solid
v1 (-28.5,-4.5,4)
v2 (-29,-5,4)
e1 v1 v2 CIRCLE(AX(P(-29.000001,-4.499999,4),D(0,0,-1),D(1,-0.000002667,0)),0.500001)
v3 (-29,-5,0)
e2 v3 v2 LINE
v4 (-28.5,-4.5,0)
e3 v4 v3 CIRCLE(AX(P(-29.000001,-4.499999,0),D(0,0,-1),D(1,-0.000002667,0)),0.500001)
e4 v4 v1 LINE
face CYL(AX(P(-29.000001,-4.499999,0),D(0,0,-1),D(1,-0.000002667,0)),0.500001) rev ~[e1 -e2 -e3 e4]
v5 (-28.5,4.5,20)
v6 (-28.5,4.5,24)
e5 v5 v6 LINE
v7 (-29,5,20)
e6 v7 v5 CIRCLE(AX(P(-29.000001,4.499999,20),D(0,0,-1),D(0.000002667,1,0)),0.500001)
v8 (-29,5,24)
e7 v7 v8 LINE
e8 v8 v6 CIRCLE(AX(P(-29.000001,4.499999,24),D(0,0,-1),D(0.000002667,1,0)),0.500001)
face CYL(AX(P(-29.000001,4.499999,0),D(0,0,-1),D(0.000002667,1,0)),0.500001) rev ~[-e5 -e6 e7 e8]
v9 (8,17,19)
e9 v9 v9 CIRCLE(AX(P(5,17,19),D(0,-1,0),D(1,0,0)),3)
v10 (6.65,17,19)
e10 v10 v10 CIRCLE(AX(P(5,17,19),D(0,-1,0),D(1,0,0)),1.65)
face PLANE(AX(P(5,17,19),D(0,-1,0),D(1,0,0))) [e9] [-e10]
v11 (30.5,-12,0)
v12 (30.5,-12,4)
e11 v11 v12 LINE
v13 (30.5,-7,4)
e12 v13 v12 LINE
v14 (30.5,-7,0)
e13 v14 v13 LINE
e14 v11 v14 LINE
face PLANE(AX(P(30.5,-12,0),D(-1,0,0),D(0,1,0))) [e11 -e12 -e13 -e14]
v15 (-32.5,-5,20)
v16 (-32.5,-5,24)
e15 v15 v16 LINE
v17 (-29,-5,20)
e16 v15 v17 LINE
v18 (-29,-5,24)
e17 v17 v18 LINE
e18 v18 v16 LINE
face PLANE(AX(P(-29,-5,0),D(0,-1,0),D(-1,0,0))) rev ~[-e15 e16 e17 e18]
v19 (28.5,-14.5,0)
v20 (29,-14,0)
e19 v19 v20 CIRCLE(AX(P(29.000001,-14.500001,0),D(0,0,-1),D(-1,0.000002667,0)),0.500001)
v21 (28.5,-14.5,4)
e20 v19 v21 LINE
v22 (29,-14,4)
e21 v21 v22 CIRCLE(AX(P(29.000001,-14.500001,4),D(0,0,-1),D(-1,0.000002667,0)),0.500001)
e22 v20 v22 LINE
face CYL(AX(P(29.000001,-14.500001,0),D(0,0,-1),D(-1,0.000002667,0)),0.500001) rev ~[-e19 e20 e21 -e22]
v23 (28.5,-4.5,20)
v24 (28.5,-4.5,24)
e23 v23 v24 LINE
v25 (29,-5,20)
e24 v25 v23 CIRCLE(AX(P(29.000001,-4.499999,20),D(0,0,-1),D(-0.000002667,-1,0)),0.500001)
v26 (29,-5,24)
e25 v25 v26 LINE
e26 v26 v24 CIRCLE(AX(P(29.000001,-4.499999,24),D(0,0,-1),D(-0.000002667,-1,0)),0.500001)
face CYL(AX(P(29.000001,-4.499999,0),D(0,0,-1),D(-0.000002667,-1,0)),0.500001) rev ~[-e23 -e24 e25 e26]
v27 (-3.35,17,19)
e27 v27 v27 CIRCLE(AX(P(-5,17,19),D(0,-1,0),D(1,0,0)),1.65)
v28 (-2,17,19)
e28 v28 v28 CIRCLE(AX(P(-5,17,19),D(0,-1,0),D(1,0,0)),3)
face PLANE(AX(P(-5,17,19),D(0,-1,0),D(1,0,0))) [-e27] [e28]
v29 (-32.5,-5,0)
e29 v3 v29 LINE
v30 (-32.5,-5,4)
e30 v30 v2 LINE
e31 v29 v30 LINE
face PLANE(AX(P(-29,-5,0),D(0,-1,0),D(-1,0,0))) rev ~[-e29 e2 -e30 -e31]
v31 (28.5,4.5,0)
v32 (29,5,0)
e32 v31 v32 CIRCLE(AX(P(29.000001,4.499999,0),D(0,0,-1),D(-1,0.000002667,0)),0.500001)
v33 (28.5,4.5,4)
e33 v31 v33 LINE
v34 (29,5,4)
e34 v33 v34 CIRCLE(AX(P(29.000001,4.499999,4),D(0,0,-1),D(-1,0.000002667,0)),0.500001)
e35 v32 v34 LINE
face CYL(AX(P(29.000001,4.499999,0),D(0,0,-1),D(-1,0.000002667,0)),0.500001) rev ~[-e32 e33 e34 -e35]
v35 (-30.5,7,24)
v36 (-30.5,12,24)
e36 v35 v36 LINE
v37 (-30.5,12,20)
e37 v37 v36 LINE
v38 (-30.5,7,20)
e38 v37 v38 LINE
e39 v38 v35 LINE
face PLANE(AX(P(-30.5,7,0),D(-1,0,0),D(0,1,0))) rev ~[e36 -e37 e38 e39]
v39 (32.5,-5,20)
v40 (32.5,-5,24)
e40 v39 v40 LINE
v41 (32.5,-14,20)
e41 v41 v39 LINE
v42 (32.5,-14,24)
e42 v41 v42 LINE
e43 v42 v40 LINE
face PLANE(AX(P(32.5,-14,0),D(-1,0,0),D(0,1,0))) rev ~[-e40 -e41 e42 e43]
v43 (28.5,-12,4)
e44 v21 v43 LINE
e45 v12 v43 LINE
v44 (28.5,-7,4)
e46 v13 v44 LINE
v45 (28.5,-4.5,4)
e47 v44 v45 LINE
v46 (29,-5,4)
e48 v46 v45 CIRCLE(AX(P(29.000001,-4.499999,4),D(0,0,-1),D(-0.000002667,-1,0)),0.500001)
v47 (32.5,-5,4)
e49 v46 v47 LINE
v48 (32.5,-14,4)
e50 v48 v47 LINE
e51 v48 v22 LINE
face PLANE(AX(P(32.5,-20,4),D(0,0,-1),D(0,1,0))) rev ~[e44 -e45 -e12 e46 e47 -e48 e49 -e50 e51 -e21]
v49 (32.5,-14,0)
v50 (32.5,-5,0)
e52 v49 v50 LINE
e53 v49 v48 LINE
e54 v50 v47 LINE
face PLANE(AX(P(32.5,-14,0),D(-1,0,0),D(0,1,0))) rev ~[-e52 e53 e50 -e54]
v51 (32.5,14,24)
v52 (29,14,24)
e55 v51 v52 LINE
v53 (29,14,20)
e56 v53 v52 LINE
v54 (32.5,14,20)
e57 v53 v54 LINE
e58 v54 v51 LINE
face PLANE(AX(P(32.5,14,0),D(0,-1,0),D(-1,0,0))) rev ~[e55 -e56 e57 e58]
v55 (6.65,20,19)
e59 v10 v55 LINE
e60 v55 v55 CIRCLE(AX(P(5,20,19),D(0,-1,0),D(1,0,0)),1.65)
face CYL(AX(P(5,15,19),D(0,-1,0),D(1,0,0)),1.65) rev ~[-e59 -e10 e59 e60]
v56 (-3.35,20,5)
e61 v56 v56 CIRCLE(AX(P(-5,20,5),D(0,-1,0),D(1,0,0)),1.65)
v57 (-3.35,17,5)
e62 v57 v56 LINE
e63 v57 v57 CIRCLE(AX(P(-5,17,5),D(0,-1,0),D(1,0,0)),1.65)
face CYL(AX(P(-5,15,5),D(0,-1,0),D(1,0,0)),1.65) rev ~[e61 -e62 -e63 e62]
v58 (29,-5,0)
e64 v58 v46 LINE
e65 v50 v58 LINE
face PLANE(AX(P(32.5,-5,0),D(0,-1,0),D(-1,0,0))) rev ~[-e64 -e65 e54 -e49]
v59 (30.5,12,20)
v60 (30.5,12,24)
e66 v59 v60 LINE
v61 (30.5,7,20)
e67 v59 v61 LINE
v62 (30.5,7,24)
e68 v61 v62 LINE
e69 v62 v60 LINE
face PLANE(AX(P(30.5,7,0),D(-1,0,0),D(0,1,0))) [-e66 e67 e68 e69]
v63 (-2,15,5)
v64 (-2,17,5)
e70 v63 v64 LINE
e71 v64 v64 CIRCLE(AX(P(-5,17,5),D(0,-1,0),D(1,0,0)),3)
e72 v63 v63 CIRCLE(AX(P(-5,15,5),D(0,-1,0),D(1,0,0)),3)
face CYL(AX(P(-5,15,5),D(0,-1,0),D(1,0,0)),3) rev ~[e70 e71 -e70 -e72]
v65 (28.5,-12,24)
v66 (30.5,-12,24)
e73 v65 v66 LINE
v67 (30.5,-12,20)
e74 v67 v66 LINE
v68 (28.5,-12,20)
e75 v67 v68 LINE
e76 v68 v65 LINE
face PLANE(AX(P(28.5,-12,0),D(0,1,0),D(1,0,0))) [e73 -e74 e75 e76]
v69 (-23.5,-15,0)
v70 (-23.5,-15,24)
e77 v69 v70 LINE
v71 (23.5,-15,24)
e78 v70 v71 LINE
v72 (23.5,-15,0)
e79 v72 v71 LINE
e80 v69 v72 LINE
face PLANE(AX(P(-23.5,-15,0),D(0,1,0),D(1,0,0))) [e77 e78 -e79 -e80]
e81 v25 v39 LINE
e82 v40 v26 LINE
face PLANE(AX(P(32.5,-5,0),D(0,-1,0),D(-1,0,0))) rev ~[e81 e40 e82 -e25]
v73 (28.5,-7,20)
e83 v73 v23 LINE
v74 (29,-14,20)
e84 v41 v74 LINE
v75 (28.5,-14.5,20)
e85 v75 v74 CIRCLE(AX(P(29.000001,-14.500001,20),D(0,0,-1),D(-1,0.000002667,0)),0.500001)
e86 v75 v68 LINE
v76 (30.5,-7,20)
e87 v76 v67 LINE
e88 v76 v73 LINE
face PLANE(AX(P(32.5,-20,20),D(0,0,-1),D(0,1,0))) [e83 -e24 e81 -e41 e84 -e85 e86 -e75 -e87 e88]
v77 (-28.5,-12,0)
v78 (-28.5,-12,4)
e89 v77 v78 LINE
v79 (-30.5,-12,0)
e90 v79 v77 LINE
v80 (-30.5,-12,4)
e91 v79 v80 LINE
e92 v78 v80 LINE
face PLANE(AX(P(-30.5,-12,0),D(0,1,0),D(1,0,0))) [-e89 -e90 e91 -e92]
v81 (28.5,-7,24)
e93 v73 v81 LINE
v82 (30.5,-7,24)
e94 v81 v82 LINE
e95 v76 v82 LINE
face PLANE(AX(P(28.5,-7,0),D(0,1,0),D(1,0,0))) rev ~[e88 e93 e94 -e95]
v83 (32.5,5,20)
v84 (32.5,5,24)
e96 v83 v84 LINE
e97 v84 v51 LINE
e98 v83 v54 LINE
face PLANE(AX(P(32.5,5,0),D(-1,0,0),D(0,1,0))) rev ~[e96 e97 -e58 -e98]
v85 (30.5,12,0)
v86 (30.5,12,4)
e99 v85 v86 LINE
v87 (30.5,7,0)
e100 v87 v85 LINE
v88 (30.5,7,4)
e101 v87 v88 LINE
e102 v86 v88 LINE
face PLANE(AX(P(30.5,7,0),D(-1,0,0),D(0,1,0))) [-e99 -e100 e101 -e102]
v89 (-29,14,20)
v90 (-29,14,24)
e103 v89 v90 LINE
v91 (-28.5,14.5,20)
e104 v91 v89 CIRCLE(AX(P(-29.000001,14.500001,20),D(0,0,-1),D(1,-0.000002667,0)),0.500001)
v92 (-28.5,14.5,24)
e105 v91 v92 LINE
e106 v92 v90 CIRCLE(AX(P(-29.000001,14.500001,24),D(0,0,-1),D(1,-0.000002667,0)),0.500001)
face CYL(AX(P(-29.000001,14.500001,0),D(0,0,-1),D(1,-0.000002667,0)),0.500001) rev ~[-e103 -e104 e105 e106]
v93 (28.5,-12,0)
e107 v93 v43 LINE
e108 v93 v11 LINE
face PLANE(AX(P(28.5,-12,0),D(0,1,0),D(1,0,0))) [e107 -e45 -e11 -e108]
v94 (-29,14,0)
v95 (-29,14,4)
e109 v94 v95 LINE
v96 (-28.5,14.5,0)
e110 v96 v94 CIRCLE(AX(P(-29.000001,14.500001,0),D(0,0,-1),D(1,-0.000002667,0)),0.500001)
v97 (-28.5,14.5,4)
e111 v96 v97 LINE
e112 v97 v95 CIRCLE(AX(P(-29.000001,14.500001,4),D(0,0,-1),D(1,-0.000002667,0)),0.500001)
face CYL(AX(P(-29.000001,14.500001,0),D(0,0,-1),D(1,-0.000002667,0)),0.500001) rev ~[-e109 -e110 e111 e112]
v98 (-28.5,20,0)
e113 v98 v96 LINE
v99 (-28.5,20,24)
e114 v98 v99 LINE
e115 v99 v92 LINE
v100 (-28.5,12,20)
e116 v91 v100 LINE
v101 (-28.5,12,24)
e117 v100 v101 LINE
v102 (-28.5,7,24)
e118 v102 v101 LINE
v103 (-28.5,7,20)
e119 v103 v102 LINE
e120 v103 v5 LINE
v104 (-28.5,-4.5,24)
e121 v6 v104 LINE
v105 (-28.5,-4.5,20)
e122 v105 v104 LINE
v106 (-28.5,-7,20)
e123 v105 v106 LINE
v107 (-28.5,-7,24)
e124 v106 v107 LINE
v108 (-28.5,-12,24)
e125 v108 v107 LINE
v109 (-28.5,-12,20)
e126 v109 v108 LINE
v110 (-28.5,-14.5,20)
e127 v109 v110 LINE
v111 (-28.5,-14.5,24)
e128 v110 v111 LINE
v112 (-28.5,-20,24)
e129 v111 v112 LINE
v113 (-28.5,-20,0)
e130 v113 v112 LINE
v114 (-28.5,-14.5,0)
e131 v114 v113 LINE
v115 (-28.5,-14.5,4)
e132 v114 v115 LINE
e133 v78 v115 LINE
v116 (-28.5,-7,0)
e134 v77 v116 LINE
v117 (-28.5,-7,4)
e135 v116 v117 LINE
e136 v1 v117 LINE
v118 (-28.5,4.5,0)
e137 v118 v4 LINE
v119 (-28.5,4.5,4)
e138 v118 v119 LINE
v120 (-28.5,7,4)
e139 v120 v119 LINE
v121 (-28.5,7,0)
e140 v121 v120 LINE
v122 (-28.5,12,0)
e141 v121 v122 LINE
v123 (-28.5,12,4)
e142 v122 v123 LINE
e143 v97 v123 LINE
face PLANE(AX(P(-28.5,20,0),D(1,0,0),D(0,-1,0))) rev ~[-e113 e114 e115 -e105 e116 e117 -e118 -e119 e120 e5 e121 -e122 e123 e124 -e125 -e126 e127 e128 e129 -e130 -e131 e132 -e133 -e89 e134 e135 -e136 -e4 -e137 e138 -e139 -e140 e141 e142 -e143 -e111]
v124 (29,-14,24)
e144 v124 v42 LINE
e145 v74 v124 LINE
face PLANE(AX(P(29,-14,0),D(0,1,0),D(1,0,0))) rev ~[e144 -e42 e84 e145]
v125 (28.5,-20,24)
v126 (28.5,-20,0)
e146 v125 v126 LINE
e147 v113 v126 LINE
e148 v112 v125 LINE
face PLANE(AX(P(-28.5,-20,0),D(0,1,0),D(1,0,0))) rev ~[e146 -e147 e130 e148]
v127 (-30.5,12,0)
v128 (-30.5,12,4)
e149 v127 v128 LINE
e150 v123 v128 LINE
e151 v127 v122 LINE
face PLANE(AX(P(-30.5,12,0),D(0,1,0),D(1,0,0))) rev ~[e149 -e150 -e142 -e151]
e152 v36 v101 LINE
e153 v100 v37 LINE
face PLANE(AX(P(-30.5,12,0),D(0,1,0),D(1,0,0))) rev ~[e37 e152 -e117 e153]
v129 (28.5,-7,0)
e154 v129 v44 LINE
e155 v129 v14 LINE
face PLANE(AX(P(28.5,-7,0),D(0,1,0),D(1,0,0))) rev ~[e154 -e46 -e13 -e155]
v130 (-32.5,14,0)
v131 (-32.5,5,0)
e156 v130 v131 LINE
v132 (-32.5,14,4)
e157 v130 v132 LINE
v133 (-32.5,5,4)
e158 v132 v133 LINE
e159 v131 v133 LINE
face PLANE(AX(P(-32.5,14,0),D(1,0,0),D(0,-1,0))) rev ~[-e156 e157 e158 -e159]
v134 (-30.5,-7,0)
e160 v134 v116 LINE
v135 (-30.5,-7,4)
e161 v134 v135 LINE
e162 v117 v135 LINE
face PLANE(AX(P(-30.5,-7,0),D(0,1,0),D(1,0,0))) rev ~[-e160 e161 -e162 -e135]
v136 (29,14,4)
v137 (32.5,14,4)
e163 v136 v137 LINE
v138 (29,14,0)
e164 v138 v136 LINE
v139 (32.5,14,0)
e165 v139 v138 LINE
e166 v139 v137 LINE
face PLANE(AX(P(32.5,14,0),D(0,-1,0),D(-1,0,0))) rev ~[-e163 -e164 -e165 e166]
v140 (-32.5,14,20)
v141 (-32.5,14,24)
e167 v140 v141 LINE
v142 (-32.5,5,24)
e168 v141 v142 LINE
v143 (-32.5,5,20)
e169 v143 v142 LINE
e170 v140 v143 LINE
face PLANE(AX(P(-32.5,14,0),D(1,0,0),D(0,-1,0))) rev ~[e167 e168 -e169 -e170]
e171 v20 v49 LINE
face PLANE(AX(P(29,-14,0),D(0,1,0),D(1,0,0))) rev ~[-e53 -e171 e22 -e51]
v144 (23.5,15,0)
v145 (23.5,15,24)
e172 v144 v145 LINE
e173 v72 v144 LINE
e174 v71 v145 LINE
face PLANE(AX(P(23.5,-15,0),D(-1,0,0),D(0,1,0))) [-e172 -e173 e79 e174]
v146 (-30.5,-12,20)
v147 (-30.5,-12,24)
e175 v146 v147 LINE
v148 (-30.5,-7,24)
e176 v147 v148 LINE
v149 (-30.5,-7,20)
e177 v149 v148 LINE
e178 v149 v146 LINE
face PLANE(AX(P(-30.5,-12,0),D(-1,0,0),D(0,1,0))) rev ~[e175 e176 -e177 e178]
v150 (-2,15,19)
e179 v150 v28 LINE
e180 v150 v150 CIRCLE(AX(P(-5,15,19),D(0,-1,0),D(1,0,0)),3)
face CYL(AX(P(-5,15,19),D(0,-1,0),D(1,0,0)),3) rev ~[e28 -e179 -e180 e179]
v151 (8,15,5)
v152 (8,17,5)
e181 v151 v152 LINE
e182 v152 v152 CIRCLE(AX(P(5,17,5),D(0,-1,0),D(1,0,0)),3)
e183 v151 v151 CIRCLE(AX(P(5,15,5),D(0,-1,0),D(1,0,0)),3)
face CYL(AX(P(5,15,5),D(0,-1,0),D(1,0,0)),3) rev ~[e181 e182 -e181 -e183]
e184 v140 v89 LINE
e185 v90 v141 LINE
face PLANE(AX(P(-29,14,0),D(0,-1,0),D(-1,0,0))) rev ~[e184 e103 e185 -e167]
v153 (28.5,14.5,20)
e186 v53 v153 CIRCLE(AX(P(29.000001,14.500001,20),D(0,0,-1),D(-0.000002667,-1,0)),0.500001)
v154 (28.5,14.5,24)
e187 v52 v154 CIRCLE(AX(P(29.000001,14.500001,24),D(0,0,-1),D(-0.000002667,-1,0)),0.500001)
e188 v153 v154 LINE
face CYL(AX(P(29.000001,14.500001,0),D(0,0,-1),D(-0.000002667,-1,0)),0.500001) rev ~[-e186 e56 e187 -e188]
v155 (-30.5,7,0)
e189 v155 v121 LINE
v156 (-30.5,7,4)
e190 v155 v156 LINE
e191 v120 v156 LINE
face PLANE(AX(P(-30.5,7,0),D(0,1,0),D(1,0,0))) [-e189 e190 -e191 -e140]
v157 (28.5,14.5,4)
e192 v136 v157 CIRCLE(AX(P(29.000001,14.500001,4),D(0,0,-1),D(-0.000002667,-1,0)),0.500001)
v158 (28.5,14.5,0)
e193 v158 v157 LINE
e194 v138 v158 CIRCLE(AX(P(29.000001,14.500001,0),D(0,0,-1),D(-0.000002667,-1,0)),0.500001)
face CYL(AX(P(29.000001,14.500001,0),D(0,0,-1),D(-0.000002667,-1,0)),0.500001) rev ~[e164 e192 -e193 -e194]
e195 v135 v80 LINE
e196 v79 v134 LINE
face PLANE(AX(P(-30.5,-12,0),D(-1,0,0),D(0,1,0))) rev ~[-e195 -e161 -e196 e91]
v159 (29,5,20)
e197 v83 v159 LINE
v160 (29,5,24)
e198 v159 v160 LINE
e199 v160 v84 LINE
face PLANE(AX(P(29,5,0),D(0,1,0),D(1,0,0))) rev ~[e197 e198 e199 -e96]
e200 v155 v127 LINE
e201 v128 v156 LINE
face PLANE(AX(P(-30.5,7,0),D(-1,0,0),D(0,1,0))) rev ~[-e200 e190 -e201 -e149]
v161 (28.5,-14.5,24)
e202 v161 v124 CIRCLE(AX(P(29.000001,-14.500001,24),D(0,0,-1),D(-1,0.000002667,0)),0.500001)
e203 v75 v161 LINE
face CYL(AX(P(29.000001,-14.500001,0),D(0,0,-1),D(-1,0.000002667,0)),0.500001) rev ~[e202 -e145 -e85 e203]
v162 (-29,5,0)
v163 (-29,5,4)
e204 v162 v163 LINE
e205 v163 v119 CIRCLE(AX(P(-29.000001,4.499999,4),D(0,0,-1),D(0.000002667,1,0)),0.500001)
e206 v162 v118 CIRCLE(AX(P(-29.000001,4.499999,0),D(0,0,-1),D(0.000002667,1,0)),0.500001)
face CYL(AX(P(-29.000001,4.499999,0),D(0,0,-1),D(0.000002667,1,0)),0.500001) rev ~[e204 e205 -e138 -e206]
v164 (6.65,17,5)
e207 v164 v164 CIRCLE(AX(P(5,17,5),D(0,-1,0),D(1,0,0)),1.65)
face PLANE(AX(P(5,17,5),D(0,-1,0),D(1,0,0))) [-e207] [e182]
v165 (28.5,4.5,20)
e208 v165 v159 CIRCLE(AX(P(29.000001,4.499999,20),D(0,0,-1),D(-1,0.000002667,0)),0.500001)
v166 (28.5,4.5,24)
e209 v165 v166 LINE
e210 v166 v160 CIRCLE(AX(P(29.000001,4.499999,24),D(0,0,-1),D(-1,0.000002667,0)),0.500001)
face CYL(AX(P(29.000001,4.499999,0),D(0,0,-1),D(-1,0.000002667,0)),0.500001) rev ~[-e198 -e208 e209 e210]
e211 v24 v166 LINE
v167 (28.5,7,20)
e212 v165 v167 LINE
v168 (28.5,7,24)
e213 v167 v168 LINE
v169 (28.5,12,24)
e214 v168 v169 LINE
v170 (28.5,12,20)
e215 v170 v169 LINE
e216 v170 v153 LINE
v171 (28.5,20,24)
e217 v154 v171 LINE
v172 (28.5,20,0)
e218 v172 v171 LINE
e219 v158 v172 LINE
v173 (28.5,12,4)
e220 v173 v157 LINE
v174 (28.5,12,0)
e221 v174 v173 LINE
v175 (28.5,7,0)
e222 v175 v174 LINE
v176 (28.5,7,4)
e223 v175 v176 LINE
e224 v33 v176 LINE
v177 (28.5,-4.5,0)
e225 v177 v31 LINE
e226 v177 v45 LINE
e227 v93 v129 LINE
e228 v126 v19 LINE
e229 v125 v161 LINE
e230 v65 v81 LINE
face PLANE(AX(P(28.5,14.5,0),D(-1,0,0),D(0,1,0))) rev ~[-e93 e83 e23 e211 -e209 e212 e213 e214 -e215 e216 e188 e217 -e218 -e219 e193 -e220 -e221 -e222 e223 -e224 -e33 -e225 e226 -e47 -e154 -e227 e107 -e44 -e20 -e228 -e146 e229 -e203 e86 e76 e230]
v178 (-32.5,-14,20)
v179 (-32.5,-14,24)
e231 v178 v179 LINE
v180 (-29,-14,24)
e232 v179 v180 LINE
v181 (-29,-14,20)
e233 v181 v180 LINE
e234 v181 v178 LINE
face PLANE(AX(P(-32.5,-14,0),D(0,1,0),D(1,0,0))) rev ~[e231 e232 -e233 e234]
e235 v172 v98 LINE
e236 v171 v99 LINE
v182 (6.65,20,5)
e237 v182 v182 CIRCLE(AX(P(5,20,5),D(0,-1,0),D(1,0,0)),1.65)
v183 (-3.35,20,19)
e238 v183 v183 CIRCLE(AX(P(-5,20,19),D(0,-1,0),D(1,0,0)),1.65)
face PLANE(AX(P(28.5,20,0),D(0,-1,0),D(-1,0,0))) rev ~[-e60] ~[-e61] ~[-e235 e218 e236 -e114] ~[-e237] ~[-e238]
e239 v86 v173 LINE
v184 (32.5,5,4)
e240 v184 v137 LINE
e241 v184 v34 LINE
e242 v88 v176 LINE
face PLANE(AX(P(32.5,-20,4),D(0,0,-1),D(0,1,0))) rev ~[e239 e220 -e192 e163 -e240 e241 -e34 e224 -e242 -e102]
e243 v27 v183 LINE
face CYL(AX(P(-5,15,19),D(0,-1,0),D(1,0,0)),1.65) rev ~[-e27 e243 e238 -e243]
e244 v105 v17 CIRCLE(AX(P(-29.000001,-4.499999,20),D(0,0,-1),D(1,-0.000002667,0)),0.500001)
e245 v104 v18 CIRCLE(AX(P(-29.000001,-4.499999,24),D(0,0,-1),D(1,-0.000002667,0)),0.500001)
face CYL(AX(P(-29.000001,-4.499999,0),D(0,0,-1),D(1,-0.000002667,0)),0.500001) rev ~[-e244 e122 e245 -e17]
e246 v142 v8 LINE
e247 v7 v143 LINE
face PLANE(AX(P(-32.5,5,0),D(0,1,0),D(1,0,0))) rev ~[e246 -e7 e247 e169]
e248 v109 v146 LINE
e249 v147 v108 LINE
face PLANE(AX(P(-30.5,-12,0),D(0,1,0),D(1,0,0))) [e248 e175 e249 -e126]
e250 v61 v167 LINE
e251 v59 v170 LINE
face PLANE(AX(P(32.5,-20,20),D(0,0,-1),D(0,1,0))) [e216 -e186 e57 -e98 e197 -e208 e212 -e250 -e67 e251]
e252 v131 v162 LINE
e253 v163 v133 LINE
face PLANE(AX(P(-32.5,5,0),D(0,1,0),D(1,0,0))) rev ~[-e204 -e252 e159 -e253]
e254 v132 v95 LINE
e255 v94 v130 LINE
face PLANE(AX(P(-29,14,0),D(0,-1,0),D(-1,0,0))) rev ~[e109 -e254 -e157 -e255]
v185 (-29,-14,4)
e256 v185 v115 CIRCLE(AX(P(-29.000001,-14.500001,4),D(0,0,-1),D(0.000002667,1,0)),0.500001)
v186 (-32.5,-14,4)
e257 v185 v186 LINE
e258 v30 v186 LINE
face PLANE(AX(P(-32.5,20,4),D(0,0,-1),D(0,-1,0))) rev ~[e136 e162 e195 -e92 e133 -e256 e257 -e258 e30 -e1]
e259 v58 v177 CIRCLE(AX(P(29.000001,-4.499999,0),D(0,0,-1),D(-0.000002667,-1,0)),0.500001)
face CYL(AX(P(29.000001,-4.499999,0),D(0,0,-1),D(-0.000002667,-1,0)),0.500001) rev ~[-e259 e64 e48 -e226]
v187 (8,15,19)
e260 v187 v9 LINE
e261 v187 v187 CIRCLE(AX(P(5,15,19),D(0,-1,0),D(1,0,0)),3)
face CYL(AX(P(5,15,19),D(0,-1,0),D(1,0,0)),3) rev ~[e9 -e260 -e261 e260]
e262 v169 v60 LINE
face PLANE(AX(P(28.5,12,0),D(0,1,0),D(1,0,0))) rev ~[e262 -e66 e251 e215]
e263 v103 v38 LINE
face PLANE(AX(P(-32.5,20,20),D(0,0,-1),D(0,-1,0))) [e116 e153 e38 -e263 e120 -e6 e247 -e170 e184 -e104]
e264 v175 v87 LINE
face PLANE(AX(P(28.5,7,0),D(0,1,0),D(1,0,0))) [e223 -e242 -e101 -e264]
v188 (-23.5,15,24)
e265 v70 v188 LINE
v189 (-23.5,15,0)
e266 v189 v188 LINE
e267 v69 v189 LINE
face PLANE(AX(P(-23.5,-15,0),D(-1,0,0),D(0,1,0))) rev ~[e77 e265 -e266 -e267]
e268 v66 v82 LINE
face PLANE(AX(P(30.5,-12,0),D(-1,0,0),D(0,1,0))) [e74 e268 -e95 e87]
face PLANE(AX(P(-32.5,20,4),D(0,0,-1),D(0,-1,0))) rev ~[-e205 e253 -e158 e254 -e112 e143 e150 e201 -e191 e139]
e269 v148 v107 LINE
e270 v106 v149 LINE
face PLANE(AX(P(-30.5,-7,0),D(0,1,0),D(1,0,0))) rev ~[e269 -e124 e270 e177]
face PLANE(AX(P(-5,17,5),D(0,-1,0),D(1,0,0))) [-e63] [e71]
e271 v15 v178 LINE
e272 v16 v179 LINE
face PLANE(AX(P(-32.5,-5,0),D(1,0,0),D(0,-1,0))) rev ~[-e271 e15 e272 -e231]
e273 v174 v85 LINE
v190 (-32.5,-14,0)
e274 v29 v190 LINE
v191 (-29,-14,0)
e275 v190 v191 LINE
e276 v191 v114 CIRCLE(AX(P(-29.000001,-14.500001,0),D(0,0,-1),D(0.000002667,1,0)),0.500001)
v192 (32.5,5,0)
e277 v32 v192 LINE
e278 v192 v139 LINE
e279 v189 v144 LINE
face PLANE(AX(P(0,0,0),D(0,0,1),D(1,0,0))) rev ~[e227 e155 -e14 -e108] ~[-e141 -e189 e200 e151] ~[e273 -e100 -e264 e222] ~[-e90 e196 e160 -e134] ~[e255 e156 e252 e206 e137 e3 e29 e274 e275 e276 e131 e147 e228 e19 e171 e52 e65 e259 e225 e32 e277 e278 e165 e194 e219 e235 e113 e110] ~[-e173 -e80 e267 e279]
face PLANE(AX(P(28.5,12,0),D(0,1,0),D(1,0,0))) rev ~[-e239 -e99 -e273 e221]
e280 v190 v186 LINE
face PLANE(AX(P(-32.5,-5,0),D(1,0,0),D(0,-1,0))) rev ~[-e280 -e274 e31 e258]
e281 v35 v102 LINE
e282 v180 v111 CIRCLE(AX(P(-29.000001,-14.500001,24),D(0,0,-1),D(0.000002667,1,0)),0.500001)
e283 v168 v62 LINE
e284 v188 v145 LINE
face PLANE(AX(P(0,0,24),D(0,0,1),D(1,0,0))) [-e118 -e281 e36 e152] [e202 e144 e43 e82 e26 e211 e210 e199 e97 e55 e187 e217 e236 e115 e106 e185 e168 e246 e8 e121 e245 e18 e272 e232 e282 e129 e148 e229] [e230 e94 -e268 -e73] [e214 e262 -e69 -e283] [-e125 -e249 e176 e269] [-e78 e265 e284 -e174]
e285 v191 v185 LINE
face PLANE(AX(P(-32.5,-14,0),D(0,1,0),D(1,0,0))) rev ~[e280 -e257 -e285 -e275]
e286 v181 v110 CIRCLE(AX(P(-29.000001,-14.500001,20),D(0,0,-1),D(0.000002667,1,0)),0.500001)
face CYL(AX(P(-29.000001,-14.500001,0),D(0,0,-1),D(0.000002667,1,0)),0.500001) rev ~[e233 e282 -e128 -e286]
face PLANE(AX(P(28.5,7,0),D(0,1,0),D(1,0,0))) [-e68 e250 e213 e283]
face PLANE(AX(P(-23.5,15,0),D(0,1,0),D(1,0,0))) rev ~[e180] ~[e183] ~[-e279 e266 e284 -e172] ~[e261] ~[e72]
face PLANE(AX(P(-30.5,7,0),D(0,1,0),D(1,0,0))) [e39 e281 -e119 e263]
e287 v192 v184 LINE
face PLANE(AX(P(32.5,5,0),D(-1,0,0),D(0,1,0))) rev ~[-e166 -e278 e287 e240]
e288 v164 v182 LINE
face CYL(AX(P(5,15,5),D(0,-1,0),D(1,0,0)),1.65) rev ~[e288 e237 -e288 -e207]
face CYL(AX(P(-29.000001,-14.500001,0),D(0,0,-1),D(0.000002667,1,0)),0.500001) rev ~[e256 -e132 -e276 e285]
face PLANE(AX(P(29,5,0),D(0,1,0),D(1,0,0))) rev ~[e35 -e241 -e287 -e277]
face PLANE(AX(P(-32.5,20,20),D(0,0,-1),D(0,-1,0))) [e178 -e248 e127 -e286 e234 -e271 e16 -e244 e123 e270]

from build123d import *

# Parameters (mm, degrees)
F0_W     = 2
F0_H     = 5
F0_W_2   = 47
F0_H_2   = 30
F1_DEPTH = 24
F2_W     = 40
F2_H     = 16
F3_DEPTH = 4
F4_W     = 40
F4_H     = 16
F5_DEPTH = 4
F6_R     = 1.65
F7_DEPTH = 25
F8_R     = 3
F9_DEPTH = 2


with BuildPart() as f1:
    # F0 (on Top) → F1 (new body)
    with BuildSketch(Plane.XY):
        with BuildLine():
            Line((28.5, 14.5), (28.5, 20))
            Line((28.5, 20), (-28.5, 20))
            Line((-28.5, 20), (-28.5, 14.5))
            ThreePointArc((-28.5, 14.5), (-28.646447, 14.146447), (-29, 14))
            Line((-29, 14), (-32.5, 14))
            Line((-32.5, 14), (-32.5, 5))
            Line((-32.5, 5), (-29, 5))
            ThreePointArc((-29, 5), (-28.646447, 4.853553), (-28.5, 4.5))
            Line((-28.5, 4.5), (-28.5, -4.5))
            ThreePointArc((-28.5, -4.5), (-28.646447, -4.853553), (-29, -5))
            Line((-29, -5), (-32.5, -5))
            Line((-32.5, -5), (-32.5, -14))
            Line((-32.5, -14), (-29, -14))
            ThreePointArc((-29, -14), (-28.646447, -14.146447), (-28.5, -14.5))
            Line((-28.5, -14.5), (-28.5, -20))
            Line((-28.5, -20), (28.5, -20))
            Line((28.5, -20), (28.5, -14.5))
            ThreePointArc((28.5, -14.5), (28.646447, -14.146447), (29, -14))
            Line((29, -14), (32.5, -14))
            Line((32.5, -14), (32.5, -5))
            Line((32.5, -5), (29, -5))
            ThreePointArc((29, -5), (28.646447, -4.853553), (28.5, -4.5))
            Line((28.5, -4.5), (28.5, 4.5))
            ThreePointArc((28.5, 4.5), (28.646447, 4.853553), (29, 5))
            Line((29, 5), (32.5, 5))
            Line((32.5, 5), (32.5, 14))
            Line((32.5, 14), (29, 14))
            ThreePointArc((29, 14), (28.646447, 14.146447), (28.5, 14.5))
        make_face()
        with Locations((-29.5, -9.5)):
            Rectangle(F0_W, F0_H, mode=Mode.SUBTRACT)
        with Locations((29.5, -9.5)):
            Rectangle(F0_W, F0_H, mode=Mode.SUBTRACT)
        with Locations((-29.5, 9.5)):
            Rectangle(F0_W, F0_H, mode=Mode.SUBTRACT)
        Rectangle(F0_W_2, F0_H_2, mode=Mode.SUBTRACT)
        with Locations((29.5, 9.5)):
            Rectangle(F0_W, F0_H, mode=Mode.SUBTRACT)
    extrude(amount=F1_DEPTH)

    # F2 (on face) → F3 (cut)
    with BuildSketch(Plane(origin=(-32.5, 0, 0), x_dir=(0, -1, 0), z_dir=(-1, 0, 0))):
        with Locations((0, 12)):
            Rectangle(F2_W, F2_H)
    extrude(amount=-F3_DEPTH, mode=Mode.SUBTRACT)

    # F4 (on face) → F5 (cut)
    with BuildSketch(Plane.YZ.offset(32.5)):
        with Locations((0, 12)):
            Rectangle(F4_W, F4_H)
    extrude(amount=-F5_DEPTH, mode=Mode.SUBTRACT)

    # F6 (on face) → F7 (cut)
    with BuildSketch(Plane.XZ.offset(-15)):
        with Locations((-5, 19)):
            Circle(F6_R)
        with Locations((-5, 5)):
            Circle(F6_R)
        with Locations((5, 19)):
            Circle(F6_R)
        with Locations((5, 5)):
            Circle(F6_R)
    extrude(amount=-F7_DEPTH, mode=Mode.SUBTRACT)

    # F8 (on face) → F9 (cut)
    with BuildSketch(Plane.XZ.offset(-15)):
        with Locations((-5, 19)):
            Circle(F8_R)
        with Locations((-5, 5)):
            Circle(F8_R)
        with Locations((5, 19)):
            Circle(F8_R)
        with Locations((5, 5)):
            Circle(F8_R)
    extrude(amount=-F9_DEPTH, mode=Mode.SUBTRACT)


solid = f1.part
